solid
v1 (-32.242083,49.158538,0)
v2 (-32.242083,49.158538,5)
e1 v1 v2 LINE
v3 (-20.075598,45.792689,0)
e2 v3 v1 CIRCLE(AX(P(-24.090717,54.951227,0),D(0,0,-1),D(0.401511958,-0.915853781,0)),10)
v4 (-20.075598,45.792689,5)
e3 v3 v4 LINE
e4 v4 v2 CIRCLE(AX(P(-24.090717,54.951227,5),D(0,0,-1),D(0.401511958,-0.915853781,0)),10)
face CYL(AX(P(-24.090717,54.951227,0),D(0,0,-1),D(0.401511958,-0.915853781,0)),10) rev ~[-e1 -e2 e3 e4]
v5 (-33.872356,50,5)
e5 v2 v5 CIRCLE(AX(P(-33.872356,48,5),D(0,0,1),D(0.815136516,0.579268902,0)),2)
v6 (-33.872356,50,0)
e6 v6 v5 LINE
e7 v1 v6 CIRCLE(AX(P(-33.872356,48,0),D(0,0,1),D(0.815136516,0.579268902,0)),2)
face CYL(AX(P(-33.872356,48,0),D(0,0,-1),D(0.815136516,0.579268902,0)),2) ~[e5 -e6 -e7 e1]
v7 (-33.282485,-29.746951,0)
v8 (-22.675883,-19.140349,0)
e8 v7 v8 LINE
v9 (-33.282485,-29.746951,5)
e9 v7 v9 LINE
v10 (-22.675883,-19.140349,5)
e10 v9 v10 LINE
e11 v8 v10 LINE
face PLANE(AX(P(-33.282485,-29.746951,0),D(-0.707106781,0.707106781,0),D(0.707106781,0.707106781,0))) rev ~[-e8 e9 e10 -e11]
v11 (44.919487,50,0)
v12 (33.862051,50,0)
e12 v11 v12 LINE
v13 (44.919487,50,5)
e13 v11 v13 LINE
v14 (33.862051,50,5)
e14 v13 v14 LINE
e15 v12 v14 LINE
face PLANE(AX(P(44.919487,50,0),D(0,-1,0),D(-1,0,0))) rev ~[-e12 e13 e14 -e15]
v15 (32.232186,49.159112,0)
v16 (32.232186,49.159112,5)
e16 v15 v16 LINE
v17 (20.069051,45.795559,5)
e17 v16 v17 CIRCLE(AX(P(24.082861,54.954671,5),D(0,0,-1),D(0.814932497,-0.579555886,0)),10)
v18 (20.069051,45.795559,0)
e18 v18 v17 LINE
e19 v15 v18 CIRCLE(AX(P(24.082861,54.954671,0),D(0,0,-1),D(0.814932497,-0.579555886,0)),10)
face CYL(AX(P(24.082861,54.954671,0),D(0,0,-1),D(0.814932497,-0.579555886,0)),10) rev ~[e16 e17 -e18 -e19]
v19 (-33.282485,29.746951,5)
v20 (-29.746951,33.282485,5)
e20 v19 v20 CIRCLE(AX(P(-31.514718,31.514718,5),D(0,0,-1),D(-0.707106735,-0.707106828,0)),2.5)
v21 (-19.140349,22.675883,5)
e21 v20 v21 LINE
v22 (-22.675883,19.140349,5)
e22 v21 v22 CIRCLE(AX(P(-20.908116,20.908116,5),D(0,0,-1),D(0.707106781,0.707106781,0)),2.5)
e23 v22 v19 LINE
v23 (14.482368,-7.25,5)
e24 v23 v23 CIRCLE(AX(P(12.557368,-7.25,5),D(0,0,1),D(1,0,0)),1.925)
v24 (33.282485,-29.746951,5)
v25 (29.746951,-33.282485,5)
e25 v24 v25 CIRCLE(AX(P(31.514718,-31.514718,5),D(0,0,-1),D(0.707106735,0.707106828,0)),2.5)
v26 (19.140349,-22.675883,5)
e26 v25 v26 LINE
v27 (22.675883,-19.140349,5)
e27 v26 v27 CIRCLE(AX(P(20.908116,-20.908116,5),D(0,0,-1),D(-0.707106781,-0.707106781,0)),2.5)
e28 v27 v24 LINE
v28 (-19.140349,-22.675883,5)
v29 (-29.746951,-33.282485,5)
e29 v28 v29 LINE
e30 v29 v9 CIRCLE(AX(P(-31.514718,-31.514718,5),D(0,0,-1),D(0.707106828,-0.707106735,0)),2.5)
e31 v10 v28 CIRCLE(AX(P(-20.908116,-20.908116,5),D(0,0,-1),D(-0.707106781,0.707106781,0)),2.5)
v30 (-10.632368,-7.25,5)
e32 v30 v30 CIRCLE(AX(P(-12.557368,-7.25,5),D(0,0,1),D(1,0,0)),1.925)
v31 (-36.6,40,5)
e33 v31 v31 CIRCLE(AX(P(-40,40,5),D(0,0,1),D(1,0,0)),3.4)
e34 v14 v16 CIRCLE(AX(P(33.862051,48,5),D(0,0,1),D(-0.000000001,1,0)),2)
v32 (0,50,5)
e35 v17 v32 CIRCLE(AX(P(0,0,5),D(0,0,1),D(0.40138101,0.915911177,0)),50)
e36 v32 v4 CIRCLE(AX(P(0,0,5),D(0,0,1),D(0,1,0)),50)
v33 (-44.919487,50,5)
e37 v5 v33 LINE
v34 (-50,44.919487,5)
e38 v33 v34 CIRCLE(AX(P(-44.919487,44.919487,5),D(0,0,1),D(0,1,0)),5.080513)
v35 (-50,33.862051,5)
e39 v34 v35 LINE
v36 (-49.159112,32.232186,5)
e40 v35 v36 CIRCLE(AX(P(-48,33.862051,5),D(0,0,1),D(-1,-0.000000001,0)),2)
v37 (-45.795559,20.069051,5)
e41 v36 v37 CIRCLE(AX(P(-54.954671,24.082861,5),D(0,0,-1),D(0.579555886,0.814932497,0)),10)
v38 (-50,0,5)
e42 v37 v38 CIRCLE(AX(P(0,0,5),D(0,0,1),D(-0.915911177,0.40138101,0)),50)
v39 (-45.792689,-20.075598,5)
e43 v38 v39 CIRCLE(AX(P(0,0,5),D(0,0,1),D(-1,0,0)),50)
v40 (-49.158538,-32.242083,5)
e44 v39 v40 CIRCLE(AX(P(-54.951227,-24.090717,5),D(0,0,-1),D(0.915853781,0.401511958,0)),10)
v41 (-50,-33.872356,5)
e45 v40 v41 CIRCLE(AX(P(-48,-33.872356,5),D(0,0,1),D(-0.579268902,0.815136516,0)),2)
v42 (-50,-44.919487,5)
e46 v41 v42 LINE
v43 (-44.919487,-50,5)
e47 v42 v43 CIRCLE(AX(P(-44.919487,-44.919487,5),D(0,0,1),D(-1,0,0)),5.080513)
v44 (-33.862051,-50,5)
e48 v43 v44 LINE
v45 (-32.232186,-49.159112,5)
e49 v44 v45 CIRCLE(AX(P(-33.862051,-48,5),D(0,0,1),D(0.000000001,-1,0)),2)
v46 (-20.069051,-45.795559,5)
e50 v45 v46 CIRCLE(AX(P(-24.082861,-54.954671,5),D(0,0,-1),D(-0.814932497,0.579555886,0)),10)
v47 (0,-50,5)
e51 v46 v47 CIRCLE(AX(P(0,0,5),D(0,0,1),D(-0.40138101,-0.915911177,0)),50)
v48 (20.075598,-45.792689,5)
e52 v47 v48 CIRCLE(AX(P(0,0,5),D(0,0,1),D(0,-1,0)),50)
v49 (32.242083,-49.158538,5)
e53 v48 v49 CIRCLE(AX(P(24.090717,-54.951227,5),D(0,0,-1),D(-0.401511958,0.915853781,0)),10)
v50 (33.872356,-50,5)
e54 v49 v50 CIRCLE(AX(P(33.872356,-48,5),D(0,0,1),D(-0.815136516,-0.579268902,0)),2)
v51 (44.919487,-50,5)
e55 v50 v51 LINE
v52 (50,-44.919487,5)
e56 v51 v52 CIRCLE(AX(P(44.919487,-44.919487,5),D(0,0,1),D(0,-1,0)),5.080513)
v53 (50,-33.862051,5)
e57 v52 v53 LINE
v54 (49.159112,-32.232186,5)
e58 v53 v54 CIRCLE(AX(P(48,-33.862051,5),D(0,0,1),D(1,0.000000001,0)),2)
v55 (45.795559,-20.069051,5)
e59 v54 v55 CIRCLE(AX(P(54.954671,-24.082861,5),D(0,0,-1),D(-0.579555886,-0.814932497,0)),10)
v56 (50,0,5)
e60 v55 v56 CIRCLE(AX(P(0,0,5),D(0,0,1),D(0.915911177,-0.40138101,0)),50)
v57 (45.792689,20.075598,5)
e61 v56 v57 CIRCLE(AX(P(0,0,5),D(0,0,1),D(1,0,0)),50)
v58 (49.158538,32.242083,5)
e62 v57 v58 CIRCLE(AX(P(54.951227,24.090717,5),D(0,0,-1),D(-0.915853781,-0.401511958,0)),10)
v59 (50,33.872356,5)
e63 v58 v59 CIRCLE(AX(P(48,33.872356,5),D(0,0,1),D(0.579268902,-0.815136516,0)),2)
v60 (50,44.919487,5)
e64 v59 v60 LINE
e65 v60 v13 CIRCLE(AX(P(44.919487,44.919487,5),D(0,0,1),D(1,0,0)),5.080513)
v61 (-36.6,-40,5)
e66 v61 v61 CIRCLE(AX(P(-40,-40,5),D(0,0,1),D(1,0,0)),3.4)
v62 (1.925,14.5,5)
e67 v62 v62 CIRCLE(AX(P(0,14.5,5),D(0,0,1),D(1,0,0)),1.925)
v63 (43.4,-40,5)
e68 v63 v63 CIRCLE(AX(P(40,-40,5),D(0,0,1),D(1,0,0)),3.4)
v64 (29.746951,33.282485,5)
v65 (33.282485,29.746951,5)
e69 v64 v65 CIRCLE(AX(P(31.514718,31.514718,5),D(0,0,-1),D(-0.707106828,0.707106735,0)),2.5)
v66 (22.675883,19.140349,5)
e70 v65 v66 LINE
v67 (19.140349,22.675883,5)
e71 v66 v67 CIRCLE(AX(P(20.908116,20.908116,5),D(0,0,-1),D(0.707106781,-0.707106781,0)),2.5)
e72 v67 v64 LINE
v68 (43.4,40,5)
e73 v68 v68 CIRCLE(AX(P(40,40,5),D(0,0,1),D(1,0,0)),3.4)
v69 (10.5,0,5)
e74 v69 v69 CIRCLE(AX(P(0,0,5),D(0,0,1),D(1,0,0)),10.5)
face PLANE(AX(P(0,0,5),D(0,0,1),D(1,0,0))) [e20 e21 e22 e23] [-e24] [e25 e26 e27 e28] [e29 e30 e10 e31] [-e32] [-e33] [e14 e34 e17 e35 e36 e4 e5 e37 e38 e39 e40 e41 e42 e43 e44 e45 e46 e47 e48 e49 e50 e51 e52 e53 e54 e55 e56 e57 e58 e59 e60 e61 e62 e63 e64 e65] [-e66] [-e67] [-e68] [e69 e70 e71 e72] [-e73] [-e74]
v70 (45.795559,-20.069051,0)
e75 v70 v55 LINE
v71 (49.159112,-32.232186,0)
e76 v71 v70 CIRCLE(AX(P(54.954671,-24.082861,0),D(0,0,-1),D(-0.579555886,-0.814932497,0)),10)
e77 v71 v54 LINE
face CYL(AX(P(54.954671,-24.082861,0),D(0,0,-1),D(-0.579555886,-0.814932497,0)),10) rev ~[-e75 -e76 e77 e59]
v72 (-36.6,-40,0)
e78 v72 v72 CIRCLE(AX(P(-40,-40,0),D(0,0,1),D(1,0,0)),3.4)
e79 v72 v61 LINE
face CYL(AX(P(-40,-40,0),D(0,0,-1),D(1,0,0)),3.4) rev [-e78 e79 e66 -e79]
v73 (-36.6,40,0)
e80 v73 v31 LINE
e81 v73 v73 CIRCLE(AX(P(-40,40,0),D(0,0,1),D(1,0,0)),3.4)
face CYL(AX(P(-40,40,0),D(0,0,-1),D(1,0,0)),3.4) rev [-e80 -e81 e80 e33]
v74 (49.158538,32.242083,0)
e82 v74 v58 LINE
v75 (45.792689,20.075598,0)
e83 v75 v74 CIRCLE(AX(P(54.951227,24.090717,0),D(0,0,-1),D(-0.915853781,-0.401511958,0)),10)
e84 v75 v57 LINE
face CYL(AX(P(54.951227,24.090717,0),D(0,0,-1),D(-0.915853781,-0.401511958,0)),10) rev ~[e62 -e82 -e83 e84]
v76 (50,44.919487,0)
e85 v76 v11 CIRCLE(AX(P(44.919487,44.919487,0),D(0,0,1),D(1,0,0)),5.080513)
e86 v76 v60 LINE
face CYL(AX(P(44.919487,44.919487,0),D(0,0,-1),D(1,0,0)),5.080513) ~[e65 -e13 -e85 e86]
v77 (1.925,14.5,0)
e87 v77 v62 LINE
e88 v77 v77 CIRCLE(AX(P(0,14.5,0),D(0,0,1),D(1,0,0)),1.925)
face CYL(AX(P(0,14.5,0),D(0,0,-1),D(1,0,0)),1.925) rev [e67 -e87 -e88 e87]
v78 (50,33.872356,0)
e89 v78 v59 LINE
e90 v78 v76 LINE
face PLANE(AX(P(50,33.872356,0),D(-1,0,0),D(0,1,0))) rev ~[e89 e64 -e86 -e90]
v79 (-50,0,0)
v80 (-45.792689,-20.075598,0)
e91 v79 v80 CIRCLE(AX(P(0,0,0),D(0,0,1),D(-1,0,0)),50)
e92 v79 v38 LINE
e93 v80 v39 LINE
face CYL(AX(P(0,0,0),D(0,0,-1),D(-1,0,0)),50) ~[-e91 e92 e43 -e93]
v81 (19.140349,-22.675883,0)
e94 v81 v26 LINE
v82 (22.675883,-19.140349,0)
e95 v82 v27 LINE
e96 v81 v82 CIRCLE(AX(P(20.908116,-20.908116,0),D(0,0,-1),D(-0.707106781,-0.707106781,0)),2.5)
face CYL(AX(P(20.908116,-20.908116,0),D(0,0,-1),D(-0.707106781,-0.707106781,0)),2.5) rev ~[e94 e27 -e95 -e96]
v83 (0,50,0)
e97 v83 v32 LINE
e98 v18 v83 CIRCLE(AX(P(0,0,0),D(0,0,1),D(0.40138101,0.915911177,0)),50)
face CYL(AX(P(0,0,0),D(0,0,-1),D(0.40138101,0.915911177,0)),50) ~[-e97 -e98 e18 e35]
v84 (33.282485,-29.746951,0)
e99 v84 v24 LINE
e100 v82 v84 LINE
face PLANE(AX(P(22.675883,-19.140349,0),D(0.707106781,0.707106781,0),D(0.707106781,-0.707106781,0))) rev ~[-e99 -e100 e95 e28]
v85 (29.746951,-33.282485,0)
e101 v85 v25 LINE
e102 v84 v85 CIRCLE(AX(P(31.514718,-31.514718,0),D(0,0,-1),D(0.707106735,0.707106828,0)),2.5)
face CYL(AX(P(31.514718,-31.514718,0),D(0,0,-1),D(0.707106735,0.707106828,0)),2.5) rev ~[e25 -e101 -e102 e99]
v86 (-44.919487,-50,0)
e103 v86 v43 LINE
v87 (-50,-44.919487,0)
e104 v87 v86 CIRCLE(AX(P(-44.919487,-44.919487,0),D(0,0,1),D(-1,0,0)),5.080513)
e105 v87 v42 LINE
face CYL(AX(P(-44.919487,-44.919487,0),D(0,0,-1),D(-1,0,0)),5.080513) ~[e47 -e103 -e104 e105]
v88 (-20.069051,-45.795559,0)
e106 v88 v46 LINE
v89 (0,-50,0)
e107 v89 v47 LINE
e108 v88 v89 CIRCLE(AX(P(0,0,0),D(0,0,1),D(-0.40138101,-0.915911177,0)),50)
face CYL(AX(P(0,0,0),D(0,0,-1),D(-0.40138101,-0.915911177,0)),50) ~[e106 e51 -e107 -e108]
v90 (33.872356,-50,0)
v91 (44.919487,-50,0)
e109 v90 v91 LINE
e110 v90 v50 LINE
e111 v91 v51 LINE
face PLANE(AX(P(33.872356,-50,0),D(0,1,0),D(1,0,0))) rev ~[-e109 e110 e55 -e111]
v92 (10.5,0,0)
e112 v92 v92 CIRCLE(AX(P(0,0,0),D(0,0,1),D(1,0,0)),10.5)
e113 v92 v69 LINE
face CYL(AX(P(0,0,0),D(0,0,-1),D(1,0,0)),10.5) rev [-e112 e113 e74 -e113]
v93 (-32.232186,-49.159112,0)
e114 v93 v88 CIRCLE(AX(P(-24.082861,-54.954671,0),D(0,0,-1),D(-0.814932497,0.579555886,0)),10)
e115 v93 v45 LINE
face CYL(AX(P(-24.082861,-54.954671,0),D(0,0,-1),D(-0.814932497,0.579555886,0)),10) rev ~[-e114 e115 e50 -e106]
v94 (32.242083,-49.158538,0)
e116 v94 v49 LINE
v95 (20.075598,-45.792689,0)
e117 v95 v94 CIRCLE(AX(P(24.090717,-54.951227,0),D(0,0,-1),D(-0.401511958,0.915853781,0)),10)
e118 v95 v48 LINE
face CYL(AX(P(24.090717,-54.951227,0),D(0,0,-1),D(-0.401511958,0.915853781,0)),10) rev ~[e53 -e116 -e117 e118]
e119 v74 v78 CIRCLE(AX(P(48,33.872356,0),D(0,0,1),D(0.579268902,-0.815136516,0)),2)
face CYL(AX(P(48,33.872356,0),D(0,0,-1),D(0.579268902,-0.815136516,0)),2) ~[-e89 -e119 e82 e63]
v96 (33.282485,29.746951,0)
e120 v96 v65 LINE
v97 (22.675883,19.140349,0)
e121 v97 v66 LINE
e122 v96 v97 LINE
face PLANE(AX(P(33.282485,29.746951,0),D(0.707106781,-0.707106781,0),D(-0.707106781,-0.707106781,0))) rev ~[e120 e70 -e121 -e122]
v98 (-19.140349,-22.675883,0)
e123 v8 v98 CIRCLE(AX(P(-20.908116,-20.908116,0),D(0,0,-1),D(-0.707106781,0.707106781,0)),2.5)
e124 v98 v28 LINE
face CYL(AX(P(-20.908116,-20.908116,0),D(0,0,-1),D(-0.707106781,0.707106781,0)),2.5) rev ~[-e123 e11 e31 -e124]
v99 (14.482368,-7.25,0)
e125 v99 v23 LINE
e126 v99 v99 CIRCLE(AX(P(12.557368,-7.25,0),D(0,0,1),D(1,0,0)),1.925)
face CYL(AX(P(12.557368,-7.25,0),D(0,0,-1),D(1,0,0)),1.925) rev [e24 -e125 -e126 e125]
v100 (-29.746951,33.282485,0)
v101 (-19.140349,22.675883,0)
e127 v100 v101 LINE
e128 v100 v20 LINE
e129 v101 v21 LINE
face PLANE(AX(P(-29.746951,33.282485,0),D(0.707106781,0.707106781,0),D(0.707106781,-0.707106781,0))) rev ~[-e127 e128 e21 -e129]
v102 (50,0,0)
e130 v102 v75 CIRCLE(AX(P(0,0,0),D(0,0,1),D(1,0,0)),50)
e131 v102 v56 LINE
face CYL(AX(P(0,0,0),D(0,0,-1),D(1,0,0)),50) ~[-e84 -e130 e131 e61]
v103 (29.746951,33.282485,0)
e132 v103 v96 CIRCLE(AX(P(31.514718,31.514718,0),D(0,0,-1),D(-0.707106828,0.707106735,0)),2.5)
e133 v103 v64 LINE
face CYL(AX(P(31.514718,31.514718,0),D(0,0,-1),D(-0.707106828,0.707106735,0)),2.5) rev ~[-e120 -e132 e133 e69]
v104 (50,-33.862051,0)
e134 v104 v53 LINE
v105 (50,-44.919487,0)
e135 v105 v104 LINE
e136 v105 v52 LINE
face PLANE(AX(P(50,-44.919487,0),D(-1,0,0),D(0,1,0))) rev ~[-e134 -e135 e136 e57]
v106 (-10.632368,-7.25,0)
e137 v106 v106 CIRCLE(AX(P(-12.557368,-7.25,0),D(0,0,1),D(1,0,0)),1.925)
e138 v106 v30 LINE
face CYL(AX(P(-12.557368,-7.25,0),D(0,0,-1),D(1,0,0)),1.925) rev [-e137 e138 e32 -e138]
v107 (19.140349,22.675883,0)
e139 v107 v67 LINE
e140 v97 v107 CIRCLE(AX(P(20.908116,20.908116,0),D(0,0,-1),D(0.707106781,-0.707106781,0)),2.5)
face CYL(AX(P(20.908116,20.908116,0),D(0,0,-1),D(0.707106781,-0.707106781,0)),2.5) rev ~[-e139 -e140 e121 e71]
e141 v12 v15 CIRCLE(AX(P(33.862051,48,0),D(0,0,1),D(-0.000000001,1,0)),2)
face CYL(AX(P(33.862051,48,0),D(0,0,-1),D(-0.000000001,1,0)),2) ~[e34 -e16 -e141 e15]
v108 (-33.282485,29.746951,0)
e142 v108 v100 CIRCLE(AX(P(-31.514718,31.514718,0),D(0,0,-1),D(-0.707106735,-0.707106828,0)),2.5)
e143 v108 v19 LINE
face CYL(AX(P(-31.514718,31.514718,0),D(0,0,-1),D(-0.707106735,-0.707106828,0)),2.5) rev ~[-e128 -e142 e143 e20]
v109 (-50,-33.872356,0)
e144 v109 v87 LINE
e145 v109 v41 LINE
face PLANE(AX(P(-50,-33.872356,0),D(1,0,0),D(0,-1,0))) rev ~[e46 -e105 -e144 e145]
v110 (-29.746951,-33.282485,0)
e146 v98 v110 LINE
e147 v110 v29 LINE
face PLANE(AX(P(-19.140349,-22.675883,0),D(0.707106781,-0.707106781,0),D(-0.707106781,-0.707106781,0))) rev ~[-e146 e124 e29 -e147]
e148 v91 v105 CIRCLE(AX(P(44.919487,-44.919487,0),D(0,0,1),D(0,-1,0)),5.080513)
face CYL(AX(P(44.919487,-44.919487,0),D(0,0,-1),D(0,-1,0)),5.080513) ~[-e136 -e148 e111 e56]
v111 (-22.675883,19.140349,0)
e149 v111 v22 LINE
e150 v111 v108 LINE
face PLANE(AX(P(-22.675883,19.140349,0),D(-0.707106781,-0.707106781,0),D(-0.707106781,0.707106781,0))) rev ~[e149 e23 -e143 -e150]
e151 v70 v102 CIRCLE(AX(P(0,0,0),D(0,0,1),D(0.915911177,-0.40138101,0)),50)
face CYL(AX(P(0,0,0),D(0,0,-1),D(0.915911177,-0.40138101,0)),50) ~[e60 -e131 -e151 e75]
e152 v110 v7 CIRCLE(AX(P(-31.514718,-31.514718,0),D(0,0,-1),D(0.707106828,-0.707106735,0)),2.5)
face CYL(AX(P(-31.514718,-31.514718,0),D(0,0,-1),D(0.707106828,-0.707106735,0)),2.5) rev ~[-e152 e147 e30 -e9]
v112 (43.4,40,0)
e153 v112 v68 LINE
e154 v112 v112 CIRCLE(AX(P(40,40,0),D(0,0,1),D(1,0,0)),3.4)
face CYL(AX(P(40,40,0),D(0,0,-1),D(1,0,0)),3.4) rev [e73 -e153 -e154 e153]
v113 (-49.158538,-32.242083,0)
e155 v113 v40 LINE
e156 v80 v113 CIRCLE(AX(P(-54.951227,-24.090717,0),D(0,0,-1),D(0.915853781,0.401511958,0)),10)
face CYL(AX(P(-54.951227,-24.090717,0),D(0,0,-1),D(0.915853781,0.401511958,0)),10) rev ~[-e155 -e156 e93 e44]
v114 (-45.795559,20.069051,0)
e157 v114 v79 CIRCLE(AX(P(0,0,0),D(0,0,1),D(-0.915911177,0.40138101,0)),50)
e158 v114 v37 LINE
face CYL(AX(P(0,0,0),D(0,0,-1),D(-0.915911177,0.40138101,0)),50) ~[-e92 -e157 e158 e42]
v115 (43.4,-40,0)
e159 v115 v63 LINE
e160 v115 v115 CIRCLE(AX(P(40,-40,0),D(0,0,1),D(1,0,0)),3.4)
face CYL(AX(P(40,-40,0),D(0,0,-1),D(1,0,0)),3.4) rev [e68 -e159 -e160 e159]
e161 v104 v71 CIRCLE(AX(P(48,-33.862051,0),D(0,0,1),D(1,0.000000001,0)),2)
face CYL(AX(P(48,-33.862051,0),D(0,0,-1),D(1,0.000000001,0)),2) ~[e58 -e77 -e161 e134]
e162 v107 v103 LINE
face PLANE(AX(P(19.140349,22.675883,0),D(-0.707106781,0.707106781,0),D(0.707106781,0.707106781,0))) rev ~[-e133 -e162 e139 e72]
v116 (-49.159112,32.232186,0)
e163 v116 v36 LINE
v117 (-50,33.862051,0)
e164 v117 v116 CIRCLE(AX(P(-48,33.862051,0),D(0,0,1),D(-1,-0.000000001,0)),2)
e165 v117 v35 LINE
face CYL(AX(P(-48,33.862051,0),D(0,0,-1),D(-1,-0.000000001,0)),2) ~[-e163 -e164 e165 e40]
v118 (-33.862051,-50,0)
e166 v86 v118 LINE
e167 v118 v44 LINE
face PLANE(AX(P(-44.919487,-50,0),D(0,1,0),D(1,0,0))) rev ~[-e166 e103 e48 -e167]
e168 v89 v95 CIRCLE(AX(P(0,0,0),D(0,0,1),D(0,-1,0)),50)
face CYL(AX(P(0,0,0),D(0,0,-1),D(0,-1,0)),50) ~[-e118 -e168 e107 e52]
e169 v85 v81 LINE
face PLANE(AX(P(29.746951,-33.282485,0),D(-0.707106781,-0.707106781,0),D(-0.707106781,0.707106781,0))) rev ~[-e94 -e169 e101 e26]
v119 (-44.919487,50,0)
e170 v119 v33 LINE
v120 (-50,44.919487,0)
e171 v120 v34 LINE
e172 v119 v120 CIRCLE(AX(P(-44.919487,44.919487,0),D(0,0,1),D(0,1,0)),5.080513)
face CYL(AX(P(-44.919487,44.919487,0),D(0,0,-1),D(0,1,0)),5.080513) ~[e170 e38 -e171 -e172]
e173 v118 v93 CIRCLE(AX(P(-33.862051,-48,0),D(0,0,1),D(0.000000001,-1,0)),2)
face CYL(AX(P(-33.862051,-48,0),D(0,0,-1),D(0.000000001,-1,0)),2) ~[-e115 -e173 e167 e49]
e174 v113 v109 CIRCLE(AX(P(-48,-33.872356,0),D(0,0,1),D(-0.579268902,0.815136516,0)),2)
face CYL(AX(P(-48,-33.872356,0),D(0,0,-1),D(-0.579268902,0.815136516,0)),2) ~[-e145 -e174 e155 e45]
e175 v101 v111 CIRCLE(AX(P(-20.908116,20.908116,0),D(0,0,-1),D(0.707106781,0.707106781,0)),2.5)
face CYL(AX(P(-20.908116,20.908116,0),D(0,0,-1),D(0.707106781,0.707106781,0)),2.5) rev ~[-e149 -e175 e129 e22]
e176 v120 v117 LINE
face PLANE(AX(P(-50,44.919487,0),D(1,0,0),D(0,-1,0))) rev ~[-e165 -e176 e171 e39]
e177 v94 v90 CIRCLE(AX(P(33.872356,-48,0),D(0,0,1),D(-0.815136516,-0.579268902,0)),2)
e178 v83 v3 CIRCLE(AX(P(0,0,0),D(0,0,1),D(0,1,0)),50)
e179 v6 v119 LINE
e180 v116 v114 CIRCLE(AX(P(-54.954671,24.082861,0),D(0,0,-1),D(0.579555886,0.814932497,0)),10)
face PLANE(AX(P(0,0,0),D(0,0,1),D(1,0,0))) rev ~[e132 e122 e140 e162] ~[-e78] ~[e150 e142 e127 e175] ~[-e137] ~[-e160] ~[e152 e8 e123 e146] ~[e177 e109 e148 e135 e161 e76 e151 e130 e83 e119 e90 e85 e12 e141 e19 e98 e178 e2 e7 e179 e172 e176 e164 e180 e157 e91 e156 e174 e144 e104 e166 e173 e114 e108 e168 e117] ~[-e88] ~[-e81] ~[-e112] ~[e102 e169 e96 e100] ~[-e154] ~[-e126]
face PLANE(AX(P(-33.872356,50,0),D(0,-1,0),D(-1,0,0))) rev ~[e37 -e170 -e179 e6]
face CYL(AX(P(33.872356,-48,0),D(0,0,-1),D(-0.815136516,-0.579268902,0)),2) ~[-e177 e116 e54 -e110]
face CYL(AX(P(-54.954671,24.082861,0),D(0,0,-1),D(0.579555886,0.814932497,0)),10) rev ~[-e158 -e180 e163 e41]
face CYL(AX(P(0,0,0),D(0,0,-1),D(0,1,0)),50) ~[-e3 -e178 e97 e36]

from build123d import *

# Parameters (mm, degrees)
ESQUISSE1_R        = 10.5
ESQUISSE1_R_2      = 3.4
ESQUISSE1_R_3      = 1.925
BOSS_EXTRU_2_DEPTH = 5


with BuildPart() as part:
    # Esquisse1 → Boss.-Extru.2 (new body)
    with BuildSketch(Plane.XY):
        with BuildLine():
            Line((50, -44.919487431), (50, -33.862050579))
            ThreePointArc((50, -33.862050579), (49.777389032, -32.945051), (49.159111773, -32.232185585))
            ThreePointArc((49.159111773, -32.232185585), (45.31641316, -26.748192273), (45.795558863, -20.069050512))
            ThreePointArc((45.795558863, -20.069050512), (48.937602838, -10.252366967), (50, 0))
            ThreePointArc((50, 0), (48.936869799, 10.255865358), (45.79268903, 20.075597908))
            ThreePointArc((45.79268903, 20.075597908), (45.313248124, 26.757056992), (49.158537806, 32.242082639))
            ThreePointArc((49.158537806, 32.242082639), (49.777227562, 32.955043184), (50, 33.872355669))
            Line((50, 33.872355669), (50, 44.919487431))
            ThreePointArc((50, 44.919487431), (48.51195232, 48.51195232), (44.919487431, 50))
            Line((44.919487431, 50), (33.862050579, 50))
            ThreePointArc((33.862050579, 50), (32.945051, 49.777389032), (32.232185585, 49.159111773))
            ThreePointArc((32.232185585, 49.159111773), (26.748192273, 45.31641316), (20.069050512, 45.795558863))
            ThreePointArc((20.069050512, 45.795558863), (10.252366967, 48.937602838), (0, 50))
            ThreePointArc((0, 50), (-10.255865358, 48.936869799), (-20.075597908, 45.79268903))
            ThreePointArc((-20.075597908, 45.79268903), (-26.757056992, 45.313248124), (-32.242082639, 49.158537806))
            ThreePointArc((-32.242082639, 49.158537806), (-32.955043184, 49.777227562), (-33.872355669, 50))
            Line((-33.872355669, 50), (-44.919487431, 50))
            ThreePointArc((-44.919487431, 50), (-48.51195232, 48.51195232), (-50, 44.919487431))
            Line((-50, 44.919487431), (-50, 33.862050579))
            ThreePointArc((-50, 33.862050579), (-49.777389032, 32.945051), (-49.159111773, 32.232185585))
            ThreePointArc((-49.159111773, 32.232185585), (-45.31641316, 26.748192273), (-45.795558863, 20.069050512))
            ThreePointArc((-45.795558863, 20.069050512), (-48.937602838, 10.252366967), (-50, 0))
            ThreePointArc((-50, 0), (-48.936869799, -10.255865358), (-45.79268903, -20.075597908))
            ThreePointArc((-45.79268903, -20.075597908), (-45.313248124, -26.757056992), (-49.158537806, -32.242082639))
            ThreePointArc((-49.158537806, -32.242082639), (-49.777227562, -32.955043184), (-50, -33.872355669))
            Line((-50, -33.872355669), (-50, -44.919487431))
            ThreePointArc((-50, -44.919487431), (-48.51195232, -48.51195232), (-44.919487431, -50))
            Line((-44.919487431, -50), (-33.862050579, -50))
            ThreePointArc((-33.862050579, -50), (-32.945051, -49.777389032), (-32.232185585, -49.159111773))
            ThreePointArc((-32.232185585, -49.159111773), (-26.748192273, -45.31641316), (-20.069050512, -45.795558863))
            ThreePointArc((-20.069050512, -45.795558863), (-10.252366967, -48.937602838), (0, -50))
            ThreePointArc((0, -50), (10.255865358, -48.936869799), (20.075597908, -45.79268903))
            ThreePointArc((20.075597908, -45.79268903), (26.757056992, -45.313248124), (32.242082639, -49.158537806))
            ThreePointArc((32.242082639, -49.158537806), (32.955043184, -49.777227562), (33.872355669, -50))
            Line((33.872355669, -50), (44.919487431, -50))
            ThreePointArc((44.919487431, -50), (48.51195232, -48.51195232), (50, -44.919487431))
        make_face()
        Circle(ESQUISSE1_R, mode=Mode.SUBTRACT)
        with Locations((40, -40)):
            Circle(ESQUISSE1_R_2, mode=Mode.SUBTRACT)
        with Locations((-40, -40)):
            Circle(ESQUISSE1_R_2, mode=Mode.SUBTRACT)
        with Locations((0, 14.5)):
            Circle(ESQUISSE1_R_3, mode=Mode.SUBTRACT)
        with Locations((40, 40)):
            Circle(ESQUISSE1_R_2, mode=Mode.SUBTRACT)
        with Locations((-40, 40)):
            Circle(ESQUISSE1_R_2, mode=Mode.SUBTRACT)
        with Locations((12.557368355, -7.25)):
            Circle(ESQUISSE1_R_3, mode=Mode.SUBTRACT)
        with Locations((-12.557368355, -7.25)):
            Circle(ESQUISSE1_R_3, mode=Mode.SUBTRACT)
        with BuildLine():
            Line((29.746951244, -33.28248515), (19.14034941, -22.675883316))
            ThreePointArc((19.14034941, -22.675883316), (19.14034941, -19.14034941), (22.675883316, -19.14034941))
            Line((22.675883316, -19.14034941), (33.282485034, -29.746951128))
            ThreePointArc((33.282485034, -29.746951128), (33.282485209, -33.282485092), (29.746951244, -33.28248515))
        make_face(mode=Mode.SUBTRACT)
        with BuildLine():
            Line((-33.28248515, -29.746951244), (-22.675883316, -19.14034941))
            ThreePointArc((-22.675883316, -19.14034941), (-19.14034941, -19.14034941), (-19.14034941, -22.675883316))
            Line((-19.14034941, -22.675883316), (-29.746951128, -33.282485034))
            ThreePointArc((-29.746951128, -33.282485034), (-33.282485092, -33.282485209), (-33.28248515, -29.746951244))
        make_face(mode=Mode.SUBTRACT)
        with BuildLine():
            Line((33.28248515, 29.746951244), (22.675883316, 19.14034941))
            ThreePointArc((22.675883316, 19.14034941), (19.14034941, 19.14034941), (19.14034941, 22.675883316))
            Line((19.14034941, 22.675883316), (29.746951128, 33.282485034))
            ThreePointArc((29.746951128, 33.282485034), (33.282485092, 33.282485209), (33.28248515, 29.746951244))
        make_face(mode=Mode.SUBTRACT)
        with BuildLine():
            Line((-29.746951244, 33.28248515), (-19.14034941, 22.675883316))
            ThreePointArc((-19.14034941, 22.675883316), (-19.14034941, 19.14034941), (-22.675883316, 19.14034941))
            Line((-22.675883316, 19.14034941), (-33.282485034, 29.746951128))
            ThreePointArc((-33.282485034, 29.746951128), (-33.282485209, 33.282485092), (-29.746951244, 33.28248515))
        make_face(mode=Mode.SUBTRACT)
    extrude(amount=BOSS_EXTRU_2_DEPTH)


solid = part.part
